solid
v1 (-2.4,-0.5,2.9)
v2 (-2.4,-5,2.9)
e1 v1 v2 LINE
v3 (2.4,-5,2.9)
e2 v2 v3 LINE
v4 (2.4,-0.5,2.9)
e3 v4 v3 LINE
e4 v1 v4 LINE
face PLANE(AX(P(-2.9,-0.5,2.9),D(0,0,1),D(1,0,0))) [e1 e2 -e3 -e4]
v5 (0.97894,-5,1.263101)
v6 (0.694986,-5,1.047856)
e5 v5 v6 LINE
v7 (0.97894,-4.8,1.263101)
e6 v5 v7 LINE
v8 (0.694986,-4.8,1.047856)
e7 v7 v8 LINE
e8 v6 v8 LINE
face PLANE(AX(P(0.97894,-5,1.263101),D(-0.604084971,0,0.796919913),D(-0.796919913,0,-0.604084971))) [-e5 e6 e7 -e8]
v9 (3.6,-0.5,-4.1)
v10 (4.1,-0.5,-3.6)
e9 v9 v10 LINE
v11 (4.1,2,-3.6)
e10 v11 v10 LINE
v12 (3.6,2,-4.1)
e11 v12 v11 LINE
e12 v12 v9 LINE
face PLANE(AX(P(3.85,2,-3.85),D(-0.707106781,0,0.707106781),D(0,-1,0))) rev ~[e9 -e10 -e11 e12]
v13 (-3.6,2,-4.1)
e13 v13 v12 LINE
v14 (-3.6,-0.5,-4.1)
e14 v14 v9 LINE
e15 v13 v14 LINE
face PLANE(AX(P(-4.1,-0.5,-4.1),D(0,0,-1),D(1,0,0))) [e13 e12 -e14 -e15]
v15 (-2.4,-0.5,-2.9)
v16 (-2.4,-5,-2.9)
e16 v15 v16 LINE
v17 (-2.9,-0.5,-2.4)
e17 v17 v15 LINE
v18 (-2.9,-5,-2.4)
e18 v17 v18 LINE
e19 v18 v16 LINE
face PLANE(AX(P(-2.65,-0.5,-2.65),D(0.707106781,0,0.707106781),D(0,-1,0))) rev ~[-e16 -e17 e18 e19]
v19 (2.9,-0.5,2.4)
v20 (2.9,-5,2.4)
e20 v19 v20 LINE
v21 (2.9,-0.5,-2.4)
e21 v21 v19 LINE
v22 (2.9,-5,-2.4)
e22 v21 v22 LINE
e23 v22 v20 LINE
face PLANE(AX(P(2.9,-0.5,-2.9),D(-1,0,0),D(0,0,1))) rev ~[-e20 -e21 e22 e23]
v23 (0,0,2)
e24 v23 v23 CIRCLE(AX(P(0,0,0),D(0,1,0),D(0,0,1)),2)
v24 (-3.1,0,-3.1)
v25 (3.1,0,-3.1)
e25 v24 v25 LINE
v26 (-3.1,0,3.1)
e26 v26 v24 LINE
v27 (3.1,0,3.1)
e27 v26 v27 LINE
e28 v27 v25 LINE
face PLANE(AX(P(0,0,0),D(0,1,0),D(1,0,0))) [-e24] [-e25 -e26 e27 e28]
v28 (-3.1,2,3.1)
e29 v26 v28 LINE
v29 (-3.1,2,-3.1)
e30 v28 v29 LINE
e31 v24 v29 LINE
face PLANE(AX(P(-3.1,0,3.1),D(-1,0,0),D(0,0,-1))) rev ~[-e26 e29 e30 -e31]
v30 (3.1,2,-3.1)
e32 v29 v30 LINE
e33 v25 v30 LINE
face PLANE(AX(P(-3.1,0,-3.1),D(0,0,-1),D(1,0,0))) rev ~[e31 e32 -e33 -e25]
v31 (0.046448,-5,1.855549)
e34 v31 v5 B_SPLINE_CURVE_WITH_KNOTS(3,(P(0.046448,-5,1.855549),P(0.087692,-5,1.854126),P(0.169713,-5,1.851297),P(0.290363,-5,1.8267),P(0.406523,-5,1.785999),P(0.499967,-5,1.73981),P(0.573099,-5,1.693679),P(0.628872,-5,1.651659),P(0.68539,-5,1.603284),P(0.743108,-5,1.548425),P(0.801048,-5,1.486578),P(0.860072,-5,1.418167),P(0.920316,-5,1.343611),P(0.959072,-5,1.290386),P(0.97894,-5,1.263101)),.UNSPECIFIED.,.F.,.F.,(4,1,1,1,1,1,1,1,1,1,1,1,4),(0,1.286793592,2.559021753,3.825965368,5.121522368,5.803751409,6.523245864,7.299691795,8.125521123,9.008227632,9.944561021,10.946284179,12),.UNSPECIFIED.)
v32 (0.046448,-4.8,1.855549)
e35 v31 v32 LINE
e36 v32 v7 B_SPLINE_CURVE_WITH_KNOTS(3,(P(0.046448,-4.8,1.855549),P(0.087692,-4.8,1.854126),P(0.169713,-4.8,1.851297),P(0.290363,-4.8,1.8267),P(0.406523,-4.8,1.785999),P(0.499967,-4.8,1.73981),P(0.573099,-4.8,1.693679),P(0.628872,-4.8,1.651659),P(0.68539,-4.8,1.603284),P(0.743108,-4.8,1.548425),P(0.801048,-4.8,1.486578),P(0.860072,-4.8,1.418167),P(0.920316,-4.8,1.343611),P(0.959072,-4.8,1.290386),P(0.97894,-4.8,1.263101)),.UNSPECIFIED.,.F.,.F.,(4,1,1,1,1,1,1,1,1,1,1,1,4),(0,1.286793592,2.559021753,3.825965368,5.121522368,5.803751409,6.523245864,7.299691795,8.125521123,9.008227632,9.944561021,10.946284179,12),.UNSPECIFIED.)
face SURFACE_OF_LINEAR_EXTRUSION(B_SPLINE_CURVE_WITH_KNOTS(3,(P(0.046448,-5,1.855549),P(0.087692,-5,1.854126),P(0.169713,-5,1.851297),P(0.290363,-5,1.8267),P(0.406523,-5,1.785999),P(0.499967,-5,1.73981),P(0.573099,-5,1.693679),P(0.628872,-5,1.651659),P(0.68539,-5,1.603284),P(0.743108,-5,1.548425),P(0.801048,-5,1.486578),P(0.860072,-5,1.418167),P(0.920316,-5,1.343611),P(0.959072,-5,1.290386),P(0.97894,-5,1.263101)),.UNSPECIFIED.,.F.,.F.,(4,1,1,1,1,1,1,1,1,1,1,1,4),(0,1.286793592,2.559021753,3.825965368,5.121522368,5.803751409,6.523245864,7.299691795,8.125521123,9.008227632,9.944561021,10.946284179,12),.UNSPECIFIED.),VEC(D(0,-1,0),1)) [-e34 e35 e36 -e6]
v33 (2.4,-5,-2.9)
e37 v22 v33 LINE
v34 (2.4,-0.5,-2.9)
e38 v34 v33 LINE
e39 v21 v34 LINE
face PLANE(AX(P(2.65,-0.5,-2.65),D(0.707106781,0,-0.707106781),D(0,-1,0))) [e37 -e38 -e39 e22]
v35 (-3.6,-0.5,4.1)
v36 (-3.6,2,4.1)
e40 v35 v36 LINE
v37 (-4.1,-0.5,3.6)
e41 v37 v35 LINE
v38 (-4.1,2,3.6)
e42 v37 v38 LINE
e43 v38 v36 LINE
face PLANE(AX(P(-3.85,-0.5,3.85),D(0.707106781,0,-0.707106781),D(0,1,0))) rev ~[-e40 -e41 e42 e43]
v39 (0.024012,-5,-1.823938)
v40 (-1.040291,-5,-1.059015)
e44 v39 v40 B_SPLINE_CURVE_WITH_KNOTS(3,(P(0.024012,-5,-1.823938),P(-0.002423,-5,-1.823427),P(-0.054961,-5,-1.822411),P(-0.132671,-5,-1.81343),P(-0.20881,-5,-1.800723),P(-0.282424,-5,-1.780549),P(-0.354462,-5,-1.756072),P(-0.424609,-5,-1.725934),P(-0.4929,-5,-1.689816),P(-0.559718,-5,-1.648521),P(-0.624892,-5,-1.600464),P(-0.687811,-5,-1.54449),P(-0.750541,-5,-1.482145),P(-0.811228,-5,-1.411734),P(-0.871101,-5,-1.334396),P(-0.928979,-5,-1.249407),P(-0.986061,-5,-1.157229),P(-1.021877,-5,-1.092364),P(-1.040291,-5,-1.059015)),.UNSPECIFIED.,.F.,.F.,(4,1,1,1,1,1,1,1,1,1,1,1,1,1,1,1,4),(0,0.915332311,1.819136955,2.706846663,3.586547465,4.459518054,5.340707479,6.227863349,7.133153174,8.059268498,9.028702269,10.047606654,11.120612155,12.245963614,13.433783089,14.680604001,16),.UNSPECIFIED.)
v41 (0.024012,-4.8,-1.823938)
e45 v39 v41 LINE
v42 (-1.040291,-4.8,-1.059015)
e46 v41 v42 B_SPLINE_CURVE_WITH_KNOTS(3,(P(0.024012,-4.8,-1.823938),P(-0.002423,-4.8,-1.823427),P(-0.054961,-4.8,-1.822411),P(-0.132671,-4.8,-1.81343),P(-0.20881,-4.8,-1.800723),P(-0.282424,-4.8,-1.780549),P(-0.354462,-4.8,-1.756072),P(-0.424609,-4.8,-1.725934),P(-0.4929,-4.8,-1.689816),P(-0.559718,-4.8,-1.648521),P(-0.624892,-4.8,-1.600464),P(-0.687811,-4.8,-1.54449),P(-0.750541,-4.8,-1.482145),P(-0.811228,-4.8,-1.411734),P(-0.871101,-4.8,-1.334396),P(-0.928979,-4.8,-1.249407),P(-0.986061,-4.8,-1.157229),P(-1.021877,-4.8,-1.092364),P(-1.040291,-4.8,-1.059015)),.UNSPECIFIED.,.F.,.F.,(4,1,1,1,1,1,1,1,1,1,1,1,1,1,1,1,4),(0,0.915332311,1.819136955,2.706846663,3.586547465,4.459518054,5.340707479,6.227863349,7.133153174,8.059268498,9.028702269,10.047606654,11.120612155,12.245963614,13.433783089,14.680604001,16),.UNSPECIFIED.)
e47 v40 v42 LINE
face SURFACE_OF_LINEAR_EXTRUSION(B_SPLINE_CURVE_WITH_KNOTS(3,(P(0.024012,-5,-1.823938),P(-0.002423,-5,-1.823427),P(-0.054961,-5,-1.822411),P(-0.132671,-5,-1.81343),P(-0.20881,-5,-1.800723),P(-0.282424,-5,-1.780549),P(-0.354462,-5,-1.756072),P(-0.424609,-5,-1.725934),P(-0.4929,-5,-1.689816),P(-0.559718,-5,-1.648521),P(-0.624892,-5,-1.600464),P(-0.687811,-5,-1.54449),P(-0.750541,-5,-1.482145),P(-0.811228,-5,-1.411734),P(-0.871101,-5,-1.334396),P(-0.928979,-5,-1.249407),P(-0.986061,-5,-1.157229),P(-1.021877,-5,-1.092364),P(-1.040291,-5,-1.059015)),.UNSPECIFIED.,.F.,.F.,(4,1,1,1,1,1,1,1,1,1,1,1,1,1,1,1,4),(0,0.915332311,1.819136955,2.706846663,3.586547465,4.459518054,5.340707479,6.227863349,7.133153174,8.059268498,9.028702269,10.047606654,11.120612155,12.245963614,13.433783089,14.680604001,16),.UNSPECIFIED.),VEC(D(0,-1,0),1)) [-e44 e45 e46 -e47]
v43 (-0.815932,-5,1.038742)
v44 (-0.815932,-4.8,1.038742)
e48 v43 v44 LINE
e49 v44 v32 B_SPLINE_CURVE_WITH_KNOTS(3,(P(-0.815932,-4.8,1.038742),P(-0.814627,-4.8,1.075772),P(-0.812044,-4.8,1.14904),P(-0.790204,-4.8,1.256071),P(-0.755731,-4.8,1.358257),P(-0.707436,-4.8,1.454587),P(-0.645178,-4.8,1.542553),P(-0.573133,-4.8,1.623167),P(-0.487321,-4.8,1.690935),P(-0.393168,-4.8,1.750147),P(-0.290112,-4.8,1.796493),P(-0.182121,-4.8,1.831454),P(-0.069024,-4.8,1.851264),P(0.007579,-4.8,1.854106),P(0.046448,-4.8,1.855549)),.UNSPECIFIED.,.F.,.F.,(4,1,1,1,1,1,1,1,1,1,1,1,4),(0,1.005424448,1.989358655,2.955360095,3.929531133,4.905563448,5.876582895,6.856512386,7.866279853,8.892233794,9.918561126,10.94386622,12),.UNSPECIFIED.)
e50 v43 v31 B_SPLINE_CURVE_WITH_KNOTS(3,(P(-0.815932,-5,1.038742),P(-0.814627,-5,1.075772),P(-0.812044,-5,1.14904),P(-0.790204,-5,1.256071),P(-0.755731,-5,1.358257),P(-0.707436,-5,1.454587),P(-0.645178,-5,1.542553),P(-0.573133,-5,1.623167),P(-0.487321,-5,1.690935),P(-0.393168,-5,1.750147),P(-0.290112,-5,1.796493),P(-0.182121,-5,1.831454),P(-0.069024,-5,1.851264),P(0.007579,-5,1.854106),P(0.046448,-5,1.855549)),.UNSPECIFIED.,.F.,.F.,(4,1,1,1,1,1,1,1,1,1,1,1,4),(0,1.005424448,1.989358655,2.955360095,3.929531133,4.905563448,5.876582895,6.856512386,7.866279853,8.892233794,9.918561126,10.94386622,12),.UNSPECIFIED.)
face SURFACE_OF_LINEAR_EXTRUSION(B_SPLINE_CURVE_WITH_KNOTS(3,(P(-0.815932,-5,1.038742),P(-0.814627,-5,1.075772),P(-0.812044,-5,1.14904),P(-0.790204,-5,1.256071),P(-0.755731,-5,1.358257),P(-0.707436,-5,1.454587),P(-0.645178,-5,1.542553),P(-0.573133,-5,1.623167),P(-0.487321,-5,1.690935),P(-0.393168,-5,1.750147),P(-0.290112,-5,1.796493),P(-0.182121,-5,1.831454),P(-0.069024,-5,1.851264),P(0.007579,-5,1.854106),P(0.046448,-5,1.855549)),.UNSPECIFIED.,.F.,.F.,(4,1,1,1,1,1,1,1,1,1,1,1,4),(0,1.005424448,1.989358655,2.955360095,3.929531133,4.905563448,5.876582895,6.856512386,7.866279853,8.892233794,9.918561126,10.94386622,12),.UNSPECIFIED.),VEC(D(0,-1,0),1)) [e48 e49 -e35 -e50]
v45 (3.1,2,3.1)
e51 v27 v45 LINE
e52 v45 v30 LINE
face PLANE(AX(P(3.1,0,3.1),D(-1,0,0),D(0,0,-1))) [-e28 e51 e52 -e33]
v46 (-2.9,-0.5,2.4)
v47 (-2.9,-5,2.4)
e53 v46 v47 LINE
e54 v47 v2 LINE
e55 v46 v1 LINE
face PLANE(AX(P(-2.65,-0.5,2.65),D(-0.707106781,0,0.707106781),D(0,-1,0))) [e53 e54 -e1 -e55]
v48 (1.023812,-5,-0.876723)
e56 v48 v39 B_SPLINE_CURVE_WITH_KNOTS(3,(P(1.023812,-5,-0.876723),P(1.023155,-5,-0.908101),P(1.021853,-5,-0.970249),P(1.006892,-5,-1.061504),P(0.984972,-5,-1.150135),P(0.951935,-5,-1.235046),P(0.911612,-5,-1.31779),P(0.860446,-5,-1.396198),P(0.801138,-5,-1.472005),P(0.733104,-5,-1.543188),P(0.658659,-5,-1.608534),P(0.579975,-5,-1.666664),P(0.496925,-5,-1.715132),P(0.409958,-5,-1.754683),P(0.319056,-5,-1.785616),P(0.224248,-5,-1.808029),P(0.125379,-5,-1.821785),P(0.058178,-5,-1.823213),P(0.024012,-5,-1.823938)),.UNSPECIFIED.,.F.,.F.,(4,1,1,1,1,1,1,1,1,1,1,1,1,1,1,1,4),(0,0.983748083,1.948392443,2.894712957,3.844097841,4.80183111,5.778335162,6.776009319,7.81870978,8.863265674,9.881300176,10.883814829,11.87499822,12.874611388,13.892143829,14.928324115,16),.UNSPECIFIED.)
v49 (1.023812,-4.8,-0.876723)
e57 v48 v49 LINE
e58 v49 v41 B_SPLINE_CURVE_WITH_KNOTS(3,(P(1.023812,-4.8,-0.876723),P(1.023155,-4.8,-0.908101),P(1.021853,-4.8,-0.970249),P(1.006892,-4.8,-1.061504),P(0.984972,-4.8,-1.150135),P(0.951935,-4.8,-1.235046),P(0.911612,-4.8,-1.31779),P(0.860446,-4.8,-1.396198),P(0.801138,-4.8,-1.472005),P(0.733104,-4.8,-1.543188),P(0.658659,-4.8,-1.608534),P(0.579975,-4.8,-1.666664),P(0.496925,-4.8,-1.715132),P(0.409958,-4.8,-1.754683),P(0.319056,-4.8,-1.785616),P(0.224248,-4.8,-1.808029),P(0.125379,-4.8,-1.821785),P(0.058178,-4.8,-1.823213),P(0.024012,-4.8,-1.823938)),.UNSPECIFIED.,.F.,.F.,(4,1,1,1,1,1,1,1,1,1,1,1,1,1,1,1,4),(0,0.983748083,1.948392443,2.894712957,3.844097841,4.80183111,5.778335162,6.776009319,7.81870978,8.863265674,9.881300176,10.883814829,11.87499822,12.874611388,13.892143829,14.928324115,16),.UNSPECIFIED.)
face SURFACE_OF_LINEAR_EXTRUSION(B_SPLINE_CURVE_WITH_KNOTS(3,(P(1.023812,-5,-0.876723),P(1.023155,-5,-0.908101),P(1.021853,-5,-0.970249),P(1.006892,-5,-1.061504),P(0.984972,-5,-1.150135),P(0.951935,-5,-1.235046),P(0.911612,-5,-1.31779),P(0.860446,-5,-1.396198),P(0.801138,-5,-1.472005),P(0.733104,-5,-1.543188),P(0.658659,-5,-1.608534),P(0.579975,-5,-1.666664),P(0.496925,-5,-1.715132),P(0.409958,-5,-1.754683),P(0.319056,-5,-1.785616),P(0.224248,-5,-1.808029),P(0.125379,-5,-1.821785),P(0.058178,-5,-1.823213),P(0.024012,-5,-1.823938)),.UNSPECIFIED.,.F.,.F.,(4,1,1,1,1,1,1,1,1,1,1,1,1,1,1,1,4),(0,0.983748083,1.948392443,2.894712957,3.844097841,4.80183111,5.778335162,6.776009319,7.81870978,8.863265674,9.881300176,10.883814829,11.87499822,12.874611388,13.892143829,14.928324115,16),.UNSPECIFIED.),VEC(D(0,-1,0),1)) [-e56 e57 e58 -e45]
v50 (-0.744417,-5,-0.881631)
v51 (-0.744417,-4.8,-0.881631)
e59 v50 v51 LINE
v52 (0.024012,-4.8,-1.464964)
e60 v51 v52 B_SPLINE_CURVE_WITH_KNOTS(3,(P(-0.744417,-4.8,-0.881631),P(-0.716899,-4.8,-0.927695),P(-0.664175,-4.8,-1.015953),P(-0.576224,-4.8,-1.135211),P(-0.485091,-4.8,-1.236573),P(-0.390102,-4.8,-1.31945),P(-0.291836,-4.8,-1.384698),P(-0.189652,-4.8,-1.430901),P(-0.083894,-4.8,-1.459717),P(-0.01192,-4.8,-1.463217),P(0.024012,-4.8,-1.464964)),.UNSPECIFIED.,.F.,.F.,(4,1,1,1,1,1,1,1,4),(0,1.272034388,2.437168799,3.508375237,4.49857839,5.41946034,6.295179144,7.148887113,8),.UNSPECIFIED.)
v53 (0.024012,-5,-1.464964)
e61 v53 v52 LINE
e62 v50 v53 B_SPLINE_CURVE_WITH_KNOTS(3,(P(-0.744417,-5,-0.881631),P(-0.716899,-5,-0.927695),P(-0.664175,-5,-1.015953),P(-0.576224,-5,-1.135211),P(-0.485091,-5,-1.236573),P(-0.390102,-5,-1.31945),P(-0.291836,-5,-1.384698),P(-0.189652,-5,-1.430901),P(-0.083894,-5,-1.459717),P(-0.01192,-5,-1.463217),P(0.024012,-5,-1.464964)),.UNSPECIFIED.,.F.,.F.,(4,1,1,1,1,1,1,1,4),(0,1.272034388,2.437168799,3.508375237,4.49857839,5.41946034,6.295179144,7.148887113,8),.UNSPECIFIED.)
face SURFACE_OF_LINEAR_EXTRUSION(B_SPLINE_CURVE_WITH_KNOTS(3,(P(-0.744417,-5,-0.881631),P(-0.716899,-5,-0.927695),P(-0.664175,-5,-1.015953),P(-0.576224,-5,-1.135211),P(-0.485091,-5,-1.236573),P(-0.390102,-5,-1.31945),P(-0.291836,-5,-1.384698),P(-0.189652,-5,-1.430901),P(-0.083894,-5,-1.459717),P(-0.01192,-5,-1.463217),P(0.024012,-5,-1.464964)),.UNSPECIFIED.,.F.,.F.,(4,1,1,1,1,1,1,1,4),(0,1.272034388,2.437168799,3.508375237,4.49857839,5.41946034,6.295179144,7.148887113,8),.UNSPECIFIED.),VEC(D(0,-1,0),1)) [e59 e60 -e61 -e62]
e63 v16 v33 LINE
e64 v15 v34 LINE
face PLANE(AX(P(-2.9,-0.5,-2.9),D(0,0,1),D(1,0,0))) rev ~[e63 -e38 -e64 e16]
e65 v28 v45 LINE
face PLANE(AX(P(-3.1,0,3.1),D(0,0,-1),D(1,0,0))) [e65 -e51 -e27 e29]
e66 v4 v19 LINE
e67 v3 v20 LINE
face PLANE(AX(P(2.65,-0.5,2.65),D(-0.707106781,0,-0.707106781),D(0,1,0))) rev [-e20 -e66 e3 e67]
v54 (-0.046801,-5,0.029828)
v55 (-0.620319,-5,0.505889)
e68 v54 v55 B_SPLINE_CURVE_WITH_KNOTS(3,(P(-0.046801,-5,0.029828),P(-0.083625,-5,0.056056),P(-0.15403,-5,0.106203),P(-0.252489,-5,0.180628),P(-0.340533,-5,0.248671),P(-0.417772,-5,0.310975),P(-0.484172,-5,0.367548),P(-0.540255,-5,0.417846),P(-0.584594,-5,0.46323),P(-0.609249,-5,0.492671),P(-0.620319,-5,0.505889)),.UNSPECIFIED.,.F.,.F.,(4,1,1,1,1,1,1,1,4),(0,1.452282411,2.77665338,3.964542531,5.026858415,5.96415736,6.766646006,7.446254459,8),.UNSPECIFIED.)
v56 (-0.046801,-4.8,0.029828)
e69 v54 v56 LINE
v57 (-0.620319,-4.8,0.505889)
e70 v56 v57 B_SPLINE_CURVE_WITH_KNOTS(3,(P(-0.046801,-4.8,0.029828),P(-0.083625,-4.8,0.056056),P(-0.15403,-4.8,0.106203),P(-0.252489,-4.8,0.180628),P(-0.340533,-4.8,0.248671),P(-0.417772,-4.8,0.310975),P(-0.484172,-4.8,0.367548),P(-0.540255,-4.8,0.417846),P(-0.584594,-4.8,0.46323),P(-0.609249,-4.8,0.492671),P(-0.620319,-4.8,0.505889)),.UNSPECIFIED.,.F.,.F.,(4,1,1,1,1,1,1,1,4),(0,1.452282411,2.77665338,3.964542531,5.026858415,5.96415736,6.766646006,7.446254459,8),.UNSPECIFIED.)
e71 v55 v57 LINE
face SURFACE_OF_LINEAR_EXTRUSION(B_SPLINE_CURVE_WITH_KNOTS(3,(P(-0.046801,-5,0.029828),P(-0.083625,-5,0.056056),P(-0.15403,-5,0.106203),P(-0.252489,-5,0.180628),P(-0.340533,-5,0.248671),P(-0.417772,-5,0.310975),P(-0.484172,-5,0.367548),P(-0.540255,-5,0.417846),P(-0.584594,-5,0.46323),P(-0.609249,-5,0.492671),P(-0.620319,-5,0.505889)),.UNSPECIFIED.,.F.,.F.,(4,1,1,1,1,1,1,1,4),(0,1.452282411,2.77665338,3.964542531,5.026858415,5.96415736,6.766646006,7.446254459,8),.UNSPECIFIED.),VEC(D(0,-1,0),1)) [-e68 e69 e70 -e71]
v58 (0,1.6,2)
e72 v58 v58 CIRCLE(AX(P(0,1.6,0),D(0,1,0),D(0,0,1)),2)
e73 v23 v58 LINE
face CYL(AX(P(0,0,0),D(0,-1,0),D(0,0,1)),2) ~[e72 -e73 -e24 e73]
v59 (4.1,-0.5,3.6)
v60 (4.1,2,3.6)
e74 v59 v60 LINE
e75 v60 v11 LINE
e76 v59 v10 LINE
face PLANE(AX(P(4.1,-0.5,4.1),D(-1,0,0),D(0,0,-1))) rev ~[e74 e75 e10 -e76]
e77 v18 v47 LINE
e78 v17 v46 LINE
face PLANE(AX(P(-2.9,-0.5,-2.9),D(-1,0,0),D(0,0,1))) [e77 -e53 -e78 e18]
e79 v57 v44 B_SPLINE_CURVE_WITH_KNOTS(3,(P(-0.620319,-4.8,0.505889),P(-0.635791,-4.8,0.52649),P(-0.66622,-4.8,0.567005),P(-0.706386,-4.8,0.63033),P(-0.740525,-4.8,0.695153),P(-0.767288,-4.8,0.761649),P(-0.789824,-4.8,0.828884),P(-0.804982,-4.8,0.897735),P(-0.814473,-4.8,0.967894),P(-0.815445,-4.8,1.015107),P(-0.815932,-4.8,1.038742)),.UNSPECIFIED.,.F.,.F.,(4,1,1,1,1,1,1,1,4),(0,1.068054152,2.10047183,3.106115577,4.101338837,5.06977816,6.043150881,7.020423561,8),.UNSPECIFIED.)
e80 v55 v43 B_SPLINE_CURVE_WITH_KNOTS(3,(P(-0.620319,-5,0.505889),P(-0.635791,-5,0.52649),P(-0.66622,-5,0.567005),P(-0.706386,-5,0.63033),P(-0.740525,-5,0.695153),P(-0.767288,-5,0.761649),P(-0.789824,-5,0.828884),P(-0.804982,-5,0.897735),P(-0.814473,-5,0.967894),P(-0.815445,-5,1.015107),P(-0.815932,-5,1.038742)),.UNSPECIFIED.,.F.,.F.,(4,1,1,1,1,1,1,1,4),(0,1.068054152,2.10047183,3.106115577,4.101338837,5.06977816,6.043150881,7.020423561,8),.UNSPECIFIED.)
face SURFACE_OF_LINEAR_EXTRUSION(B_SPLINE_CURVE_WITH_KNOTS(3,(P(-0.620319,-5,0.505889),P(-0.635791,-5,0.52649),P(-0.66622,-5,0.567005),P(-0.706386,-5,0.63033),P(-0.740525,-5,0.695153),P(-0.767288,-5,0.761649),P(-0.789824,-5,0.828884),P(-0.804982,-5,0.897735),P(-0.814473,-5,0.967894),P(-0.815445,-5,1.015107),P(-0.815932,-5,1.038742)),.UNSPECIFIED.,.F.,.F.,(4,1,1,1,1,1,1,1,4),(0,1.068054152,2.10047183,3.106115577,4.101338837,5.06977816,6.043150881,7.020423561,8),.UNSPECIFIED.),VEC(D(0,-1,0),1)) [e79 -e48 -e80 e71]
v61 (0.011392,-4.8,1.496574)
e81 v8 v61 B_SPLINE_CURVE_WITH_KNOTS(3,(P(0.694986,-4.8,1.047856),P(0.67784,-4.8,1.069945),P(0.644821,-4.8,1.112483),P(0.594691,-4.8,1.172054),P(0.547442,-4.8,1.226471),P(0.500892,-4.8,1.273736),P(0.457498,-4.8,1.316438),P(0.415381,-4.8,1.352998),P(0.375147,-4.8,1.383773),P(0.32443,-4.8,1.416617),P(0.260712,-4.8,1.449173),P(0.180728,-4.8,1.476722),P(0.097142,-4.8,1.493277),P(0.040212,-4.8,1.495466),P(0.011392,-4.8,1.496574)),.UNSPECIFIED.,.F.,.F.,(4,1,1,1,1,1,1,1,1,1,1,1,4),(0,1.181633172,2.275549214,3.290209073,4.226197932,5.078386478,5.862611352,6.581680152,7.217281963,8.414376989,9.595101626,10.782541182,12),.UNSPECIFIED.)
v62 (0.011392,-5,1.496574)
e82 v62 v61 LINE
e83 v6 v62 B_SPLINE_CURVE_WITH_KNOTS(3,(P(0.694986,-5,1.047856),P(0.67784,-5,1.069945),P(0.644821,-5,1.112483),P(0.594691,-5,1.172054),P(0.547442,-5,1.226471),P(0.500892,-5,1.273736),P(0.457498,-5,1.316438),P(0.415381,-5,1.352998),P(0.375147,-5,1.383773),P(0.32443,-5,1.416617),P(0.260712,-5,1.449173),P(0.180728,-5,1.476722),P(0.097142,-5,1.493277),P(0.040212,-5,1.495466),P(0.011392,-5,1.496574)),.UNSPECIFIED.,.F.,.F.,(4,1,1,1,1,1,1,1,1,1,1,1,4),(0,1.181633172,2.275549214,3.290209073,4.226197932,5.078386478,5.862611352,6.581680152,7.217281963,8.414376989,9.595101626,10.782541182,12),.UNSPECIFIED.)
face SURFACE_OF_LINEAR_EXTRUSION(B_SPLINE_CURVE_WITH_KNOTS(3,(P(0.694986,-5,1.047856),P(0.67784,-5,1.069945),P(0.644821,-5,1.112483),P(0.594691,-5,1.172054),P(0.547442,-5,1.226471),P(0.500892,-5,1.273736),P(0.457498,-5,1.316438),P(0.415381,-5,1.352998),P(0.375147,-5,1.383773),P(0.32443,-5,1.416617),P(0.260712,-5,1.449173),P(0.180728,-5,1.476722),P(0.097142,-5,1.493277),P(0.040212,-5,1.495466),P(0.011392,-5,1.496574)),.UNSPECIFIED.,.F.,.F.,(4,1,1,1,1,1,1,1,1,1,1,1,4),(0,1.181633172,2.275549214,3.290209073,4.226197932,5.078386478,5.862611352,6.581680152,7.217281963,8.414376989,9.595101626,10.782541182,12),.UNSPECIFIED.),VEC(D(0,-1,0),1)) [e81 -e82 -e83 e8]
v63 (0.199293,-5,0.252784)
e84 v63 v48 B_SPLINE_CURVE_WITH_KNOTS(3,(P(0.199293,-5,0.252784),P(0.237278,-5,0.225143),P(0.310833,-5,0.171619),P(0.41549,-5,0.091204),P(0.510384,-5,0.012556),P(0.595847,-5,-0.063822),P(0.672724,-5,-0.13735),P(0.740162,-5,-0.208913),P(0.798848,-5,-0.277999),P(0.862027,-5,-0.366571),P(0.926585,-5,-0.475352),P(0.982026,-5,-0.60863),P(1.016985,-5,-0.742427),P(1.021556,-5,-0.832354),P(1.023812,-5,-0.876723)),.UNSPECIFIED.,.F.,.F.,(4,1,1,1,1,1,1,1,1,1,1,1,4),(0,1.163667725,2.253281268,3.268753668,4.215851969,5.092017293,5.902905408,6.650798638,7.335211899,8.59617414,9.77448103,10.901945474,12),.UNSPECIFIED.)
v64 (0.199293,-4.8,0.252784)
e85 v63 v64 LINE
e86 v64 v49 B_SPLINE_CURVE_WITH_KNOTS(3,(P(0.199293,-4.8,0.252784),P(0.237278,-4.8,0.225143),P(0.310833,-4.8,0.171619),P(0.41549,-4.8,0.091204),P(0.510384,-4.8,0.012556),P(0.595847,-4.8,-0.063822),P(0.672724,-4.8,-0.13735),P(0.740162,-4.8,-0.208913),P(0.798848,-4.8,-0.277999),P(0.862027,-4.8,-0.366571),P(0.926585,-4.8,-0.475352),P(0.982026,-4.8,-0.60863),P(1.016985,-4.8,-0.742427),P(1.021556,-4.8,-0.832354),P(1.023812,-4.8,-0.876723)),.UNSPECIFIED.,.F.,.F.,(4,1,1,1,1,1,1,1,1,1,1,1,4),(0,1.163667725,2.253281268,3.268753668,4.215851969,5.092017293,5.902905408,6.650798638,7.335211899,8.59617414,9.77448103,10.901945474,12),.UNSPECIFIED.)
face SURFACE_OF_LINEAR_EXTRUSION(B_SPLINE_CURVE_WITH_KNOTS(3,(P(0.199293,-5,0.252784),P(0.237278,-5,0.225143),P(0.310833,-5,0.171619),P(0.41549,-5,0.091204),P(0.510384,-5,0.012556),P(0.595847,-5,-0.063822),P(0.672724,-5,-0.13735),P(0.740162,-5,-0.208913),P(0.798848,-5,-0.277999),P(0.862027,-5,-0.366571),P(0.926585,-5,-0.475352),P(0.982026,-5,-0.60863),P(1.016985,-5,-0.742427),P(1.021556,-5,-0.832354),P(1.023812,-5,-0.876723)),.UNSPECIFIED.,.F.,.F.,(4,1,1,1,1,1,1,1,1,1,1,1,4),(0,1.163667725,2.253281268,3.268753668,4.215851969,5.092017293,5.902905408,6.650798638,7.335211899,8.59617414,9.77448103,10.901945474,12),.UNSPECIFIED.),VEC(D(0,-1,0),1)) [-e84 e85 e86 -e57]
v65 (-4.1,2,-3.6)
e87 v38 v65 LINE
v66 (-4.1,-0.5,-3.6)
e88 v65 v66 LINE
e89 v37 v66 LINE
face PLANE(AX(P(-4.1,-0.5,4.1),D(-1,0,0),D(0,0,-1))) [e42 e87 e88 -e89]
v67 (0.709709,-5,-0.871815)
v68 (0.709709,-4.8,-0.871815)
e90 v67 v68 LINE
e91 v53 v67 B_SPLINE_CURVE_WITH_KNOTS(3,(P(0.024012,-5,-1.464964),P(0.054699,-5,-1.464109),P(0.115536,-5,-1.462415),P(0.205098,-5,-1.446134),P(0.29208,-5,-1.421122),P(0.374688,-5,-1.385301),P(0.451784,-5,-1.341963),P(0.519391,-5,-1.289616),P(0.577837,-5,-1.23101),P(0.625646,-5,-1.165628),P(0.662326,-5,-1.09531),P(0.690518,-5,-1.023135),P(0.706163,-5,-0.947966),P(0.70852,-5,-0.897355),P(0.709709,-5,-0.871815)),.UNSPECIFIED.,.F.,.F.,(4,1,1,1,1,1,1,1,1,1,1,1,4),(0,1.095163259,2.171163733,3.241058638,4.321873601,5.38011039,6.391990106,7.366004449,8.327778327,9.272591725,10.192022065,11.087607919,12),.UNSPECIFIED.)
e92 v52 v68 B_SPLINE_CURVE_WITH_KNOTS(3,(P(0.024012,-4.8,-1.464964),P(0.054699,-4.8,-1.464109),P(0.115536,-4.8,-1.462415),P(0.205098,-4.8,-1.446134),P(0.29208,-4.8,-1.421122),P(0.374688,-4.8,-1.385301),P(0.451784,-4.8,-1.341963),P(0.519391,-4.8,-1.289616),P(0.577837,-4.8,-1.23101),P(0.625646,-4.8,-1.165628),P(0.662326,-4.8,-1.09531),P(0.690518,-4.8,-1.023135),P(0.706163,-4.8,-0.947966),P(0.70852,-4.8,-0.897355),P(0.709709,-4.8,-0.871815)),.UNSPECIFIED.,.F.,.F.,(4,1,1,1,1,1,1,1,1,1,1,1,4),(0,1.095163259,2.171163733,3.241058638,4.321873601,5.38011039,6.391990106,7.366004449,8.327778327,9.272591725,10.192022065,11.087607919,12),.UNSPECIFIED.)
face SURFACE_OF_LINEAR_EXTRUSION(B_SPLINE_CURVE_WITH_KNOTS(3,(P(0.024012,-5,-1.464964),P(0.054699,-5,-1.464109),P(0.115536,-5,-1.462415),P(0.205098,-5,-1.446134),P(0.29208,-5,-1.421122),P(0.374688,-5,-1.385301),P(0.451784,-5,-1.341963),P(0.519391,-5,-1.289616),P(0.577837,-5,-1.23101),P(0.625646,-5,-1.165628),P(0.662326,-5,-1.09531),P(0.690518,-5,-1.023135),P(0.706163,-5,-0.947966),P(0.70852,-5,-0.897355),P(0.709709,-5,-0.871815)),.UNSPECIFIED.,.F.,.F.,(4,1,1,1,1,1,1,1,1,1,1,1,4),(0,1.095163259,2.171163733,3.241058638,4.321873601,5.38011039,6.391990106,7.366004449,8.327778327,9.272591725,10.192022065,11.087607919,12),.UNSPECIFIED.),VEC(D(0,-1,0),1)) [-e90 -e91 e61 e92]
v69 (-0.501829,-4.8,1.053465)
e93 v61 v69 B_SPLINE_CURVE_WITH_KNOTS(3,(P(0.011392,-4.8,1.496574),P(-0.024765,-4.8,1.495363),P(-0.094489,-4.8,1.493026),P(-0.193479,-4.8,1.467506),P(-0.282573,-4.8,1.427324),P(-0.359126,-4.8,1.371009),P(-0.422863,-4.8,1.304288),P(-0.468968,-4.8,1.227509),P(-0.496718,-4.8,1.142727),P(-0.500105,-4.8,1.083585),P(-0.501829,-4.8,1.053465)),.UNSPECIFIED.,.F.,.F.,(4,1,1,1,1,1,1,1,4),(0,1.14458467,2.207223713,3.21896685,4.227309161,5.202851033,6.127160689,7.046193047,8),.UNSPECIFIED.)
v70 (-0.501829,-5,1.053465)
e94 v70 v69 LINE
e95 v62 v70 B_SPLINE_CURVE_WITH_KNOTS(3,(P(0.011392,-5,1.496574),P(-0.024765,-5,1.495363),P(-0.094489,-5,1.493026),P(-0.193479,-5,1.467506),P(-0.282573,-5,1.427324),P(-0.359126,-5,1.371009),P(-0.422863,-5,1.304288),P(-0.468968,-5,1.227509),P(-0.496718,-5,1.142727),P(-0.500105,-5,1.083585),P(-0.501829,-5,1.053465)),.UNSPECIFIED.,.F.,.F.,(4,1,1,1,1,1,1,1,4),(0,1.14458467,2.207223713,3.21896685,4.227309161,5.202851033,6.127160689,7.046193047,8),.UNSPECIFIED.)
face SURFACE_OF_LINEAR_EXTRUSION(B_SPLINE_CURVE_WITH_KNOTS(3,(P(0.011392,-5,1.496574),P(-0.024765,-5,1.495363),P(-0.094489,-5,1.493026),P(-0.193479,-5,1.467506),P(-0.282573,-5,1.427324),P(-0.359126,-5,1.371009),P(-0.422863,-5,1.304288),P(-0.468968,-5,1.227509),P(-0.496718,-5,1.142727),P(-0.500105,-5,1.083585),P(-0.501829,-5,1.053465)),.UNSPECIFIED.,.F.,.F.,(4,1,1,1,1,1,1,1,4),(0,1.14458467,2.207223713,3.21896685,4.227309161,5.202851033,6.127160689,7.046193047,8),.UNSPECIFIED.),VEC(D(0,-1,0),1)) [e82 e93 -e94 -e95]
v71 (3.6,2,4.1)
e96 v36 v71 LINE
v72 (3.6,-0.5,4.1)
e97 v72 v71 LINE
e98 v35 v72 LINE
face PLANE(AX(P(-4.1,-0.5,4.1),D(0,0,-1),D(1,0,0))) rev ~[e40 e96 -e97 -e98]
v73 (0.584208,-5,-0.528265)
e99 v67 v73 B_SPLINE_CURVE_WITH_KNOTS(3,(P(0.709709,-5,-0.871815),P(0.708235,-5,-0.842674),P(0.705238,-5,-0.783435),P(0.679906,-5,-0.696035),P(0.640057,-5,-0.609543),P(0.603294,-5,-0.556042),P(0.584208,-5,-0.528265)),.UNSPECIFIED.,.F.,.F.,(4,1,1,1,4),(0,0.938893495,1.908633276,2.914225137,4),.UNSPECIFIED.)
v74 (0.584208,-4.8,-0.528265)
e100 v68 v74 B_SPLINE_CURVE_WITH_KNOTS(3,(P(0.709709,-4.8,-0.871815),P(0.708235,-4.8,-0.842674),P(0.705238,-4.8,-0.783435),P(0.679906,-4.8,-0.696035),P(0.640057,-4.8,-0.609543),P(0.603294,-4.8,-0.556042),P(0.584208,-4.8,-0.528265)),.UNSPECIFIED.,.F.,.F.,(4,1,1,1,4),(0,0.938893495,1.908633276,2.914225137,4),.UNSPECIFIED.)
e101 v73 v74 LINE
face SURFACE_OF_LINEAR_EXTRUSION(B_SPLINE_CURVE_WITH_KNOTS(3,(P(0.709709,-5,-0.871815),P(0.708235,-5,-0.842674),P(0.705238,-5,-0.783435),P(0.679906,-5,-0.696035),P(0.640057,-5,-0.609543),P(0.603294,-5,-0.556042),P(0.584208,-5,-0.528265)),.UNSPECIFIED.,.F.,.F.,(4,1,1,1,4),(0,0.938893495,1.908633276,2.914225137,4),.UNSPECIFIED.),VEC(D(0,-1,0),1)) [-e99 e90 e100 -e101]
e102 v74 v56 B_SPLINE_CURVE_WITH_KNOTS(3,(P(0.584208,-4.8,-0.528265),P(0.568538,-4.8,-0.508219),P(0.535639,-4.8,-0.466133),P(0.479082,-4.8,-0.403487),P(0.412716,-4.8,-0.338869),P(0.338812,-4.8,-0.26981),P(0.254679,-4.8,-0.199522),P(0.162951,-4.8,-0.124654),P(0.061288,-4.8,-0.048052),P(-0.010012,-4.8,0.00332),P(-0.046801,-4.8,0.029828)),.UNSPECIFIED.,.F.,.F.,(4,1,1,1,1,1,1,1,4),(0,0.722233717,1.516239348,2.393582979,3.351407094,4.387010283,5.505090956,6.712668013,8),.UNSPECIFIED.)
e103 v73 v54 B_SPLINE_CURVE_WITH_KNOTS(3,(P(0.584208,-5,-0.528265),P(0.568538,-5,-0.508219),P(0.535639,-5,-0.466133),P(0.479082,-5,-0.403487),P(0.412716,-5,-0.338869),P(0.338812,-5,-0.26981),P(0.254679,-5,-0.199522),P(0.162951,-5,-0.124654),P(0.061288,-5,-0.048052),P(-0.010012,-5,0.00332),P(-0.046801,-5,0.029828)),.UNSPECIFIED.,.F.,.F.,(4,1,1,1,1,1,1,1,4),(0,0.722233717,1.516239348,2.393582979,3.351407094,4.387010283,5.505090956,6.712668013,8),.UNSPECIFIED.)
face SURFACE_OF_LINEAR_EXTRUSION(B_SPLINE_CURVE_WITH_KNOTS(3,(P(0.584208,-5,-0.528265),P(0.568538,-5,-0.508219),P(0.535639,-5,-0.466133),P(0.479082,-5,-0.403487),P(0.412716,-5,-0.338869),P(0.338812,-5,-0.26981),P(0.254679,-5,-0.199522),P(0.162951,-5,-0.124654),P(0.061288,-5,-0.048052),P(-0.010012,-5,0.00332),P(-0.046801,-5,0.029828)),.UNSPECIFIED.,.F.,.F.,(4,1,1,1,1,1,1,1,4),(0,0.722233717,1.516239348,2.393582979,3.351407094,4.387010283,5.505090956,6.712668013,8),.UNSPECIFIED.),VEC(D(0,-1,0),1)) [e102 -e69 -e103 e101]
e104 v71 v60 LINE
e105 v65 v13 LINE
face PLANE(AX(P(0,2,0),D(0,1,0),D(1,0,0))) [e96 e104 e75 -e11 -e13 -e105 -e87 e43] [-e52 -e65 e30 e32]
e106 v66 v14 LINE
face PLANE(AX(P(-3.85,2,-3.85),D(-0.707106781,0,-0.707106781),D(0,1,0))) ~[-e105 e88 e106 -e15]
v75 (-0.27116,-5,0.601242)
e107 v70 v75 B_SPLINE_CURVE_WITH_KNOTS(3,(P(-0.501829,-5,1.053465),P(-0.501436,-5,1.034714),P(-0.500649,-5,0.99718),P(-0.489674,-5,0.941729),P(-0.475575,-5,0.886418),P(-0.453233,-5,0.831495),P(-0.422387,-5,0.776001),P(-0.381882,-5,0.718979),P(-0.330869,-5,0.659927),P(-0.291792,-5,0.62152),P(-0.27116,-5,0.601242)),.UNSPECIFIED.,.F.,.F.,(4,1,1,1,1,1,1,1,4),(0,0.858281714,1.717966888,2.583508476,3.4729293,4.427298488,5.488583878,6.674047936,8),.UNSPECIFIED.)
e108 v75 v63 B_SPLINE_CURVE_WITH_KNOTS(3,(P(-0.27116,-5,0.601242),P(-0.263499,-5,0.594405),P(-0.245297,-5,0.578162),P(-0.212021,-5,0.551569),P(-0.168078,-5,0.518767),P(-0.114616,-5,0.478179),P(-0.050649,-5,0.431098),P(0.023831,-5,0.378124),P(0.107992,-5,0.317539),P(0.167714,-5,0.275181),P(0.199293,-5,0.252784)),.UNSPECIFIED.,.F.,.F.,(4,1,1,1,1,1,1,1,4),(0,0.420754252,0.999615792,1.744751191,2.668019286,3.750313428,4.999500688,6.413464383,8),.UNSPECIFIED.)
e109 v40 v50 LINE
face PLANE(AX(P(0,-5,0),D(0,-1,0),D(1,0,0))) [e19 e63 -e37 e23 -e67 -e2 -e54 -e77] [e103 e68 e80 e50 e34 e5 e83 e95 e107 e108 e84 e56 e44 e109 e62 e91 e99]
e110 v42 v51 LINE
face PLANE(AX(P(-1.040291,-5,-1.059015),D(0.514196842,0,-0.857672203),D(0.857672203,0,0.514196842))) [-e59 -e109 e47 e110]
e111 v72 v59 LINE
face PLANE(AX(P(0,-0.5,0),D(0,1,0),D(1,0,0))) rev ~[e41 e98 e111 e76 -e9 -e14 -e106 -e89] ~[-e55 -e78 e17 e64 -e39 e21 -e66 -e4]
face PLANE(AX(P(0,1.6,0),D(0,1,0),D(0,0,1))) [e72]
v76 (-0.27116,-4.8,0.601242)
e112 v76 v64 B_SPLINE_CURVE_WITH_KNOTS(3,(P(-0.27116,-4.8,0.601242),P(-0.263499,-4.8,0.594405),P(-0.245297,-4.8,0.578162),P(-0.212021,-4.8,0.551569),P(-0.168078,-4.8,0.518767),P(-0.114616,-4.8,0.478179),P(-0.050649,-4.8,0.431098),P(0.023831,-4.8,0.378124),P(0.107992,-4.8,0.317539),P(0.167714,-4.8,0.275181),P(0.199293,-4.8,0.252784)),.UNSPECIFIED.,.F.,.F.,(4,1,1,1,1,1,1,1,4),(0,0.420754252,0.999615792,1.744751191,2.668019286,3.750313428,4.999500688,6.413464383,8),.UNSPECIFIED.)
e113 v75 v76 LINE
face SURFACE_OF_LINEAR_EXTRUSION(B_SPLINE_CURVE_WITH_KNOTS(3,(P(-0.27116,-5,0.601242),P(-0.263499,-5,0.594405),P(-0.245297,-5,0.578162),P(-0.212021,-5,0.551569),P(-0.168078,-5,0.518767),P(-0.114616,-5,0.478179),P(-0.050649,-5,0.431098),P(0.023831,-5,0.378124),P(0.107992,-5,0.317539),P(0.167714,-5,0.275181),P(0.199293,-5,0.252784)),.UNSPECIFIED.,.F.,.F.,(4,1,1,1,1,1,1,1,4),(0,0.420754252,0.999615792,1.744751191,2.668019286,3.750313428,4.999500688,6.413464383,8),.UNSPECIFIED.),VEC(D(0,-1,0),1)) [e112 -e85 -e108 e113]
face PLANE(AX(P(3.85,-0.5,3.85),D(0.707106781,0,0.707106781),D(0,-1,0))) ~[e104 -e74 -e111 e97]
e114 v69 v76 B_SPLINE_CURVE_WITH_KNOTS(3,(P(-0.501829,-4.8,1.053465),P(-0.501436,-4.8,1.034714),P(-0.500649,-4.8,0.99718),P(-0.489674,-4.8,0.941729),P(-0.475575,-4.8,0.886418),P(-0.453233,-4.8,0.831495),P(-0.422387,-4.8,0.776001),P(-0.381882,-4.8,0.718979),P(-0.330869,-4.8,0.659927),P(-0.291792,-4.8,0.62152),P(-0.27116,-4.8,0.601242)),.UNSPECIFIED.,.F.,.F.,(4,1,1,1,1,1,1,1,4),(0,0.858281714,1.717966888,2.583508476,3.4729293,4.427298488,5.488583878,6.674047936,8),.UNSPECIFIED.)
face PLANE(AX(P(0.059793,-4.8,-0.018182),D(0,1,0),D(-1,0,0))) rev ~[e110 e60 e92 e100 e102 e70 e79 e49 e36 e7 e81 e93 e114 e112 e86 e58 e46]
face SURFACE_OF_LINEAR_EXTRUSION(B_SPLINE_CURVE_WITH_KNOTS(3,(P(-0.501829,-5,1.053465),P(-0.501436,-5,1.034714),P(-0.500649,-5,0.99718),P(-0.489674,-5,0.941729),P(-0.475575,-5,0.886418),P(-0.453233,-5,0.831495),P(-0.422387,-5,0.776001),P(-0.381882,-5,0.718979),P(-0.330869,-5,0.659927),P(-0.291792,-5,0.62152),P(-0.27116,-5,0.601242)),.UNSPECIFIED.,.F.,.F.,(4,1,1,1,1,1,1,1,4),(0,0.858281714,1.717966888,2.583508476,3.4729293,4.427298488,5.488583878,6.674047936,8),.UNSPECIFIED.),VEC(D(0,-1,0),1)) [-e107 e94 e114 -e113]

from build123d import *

# Parameters (mm, degrees)
SKETCH1_R           = 2
BOSS_EXTRUDE1_DEPTH = 1.6
SKETCH1_3_W         = 8.2
SKETCH1_3_H         = 8.2
SKETCH1_3_W_2       = 6.2
SKETCH1_3_H_2       = 6.2
BOSS_EXTRUDE2_DEPTH = 2
SKETCH1_4_W         = 8.2
SKETCH1_4_H         = 8.2
BOSS_EXTRUDE3_DEPTH = 0.5
SKETCH3_W           = 5.8
SKETCH3_H           = 5.8
BOSS_EXTRUDE4_DEPTH = 4.5
CHAMFER1_SIZE       = 0.5
CUT_EXTRUDE1_DEPTH  = 0.2


with BuildPart() as part:
    # Sketch1 → Boss-Extrude1 (new body)
    with BuildSketch(Plane(origin=(0, 0, 0), x_dir=(1, 0, 0), z_dir=(0, 1, 0))):
        Circle(SKETCH1_R)
    extrude(amount=BOSS_EXTRUDE1_DEPTH)



with BuildPart() as body_2:
    # Sketch1<3> → Boss-Extrude2 (new body)
    with BuildSketch(Plane(origin=(0, 0, 0), x_dir=(1, 0, 0), z_dir=(0, 1, 0))):
        Rectangle(SKETCH1_3_W, SKETCH1_3_H)
        Rectangle(SKETCH1_3_W_2, SKETCH1_3_H_2, mode=Mode.SUBTRACT)
    extrude(amount=BOSS_EXTRUDE2_DEPTH)


with BuildPart() as part_1:
    add(part.part)

    add(body_2.part)  # Boss-Extrude3 merges body 2
    # Sketch1<4> → Boss-Extrude3 (add)
    with BuildSketch(Plane(origin=(0, 0, 0), x_dir=(1, 0, 0), z_dir=(0, 1, 0))):
        Rectangle(SKETCH1_4_W, SKETCH1_4_H)
    extrude(amount=-BOSS_EXTRUDE3_DEPTH)

    # Sketch3 → Boss-Extrude4 (add)
    with BuildSketch(Plane.XZ.offset(0.5)):
        Rectangle(SKETCH3_W, SKETCH3_H)
    extrude(amount=BOSS_EXTRUDE4_DEPTH)

    # Chamfer1
    chamfer1_edges = [part_1.edges().sort_by_distance(p)[0] for p in [
        (-4.1, 0.75, -4.1),
        (4.1, 0.75, -4.1),
        (-4.1, 0.75, 4.1),
        (4.1, 0.75, 4.1),
        (-2.9, -2.75, 2.9),
        (2.9, -2.75, 2.9),
        (-2.9, -2.75, -2.9),
        (2.9, -2.75, -2.9),
    ]]
    chamfer(chamfer1_edges, length=CHAMFER1_SIZE)

    # Sketch4 → Cut-Extrude1 (cut)
    with BuildSketch(Plane.XZ.offset(5)):
        with BuildLine():
            Line((-1.040290833, -1.059014553), (-0.744417436, -0.881630739))
            add(Edge.make_bspline(
                [(-0.744417436, -0.881630739), (-0.716899199, -0.927695124), (-0.664175318, -1.015952708), (-0.576223959, -1.135210748), (-0.485091048, -1.236572905), (-0.390101714, -1.319449512), (-0.291835766, -1.384698399), (-0.189651712, -1.430900631), (-0.083893902, -1.459716606), (-0.01192008, -1.463216693), (0.024012051, -1.464964072)],
                knots=[0, 0, 0, 0, 1.272034388, 2.437168799, 3.508375237, 4.49857839, 5.41946034, 6.295179144, 7.148887113, 8, 8, 8, 8], degree=3))
            add(Edge.make_bspline(
                [(0.024012051, -1.464964072), (0.054698912, -1.464109399), (0.115535685, -1.462415009), (0.205097928, -1.446134207), (0.29207973, -1.421122078), (0.374688368, -1.385301147), (0.451783982, -1.341962661), (0.519390678, -1.289616484), (0.577836791, -1.231010278), (0.625645905, -1.165627623), (0.662325941, -1.095310475), (0.690518009, -1.023134523), (0.706163083, -0.947965955), (0.708519836, -0.897355492), (0.709709167, -0.871815034)],
                knots=[0, 0, 0, 0, 1.095163259, 2.171163733, 3.241058638, 4.321873601, 5.38011039, 6.391990106, 7.366004449, 8.327778327, 9.272591725, 10.192022065, 11.087607919, 12, 12, 12, 12], degree=3))
            add(Edge.make_bspline(
                [(0.709709167, -0.871815034), (0.708234856, -0.842674184), (0.705237798, -0.783435095), (0.679906318, -0.696035442), (0.640057071, -0.609542872), (0.603294427, -0.556041606), (0.584208365, -0.528265354)],
                knots=[0, 0, 0, 0, 0.938893495, 1.908633276, 2.914225137, 4, 4, 4, 4], degree=3))
            add(Edge.make_bspline(
                [(0.584208365, -0.528265354), (0.568537751, -0.50821853), (0.535639257, -0.466132732), (0.479081744, -0.403487496), (0.41271563, -0.338869077), (0.338812075, -0.269810021), (0.254678986, -0.199522224), (0.162951472, -0.124653946), (0.061287613, -0.048052369), (-0.010011884, 0.003320197), (-0.04680125, 0.029827595)],
                knots=[0, 0, 0, 0, 0.722233717, 1.516239348, 2.393582979, 3.351407094, 4.387010283, 5.505090956, 6.712668013, 8, 8, 8, 8], degree=3))
            add(Edge.make_bspline(
                [(-0.04680125, 0.029827595), (-0.083625246, 0.056056182), (-0.154029923, 0.106203245), (-0.252488505, 0.180627529), (-0.340532968, 0.248671398), (-0.417771985, 0.31097541), (-0.484171581, 0.367548015), (-0.540254992, 0.417845954), (-0.58459355, 0.463229515), (-0.60924913, 0.492670857), (-0.620318878, 0.505889293)],
                knots=[0, 0, 0, 0, 1.452282411, 2.77665338, 3.964542531, 5.026858415, 5.96415736, 6.766646006, 7.446254459, 8, 8, 8, 8], degree=3))
            add(Edge.make_bspline(
                [(-0.620318878, 0.505889293), (-0.635791423, 0.52649033), (-0.66622026, 0.567005034), (-0.706386266, 0.630329892), (-0.740525428, 0.695153157), (-0.76728776, 0.761649022), (-0.789823979, 0.828883951), (-0.80498191, 0.897735196), (-0.814473307, 0.967893815), (-0.815445293, 1.015107315), (-0.815931859, 1.038741857)],
                knots=[0, 0, 0, 0, 1.068054152, 2.10047183, 3.106115577, 4.101338837, 5.06977816, 6.043150881, 7.020423561, 8, 8, 8, 8], degree=3))
            add(Edge.make_bspline(
                [(-0.815931859, 1.038741857), (-0.81462665, 1.075771632), (-0.81204413, 1.149039696), (-0.790203613, 1.256070526), (-0.755730719, 1.358256943), (-0.707435831, 1.454587277), (-0.645178478, 1.542553258), (-0.573132504, 1.623166745), (-0.487321018, 1.690935327), (-0.393168394, 1.750147386), (-0.290112022, 1.796493311), (-0.182121119, 1.831454291), (-0.069024047, 1.851263549), (0.007579088, 1.854106314), (0.046447949, 1.855548749)],
                knots=[0, 0, 0, 0, 1.005424448, 1.989358655, 2.955360095, 3.929531133, 4.905563448, 5.876582895, 6.856512386, 7.866279853, 8.892233794, 9.918561126, 10.94386622, 12, 12, 12, 12], degree=3))
            add(Edge.make_bspline(
                [(0.046447949, 1.855548749), (0.087692049, 1.854126197), (0.169713401, 1.851297196), (0.290362616, 1.826699664), (0.406523333, 1.785998993), (0.499966598, 1.739810335), (0.573099359, 1.693678919), (0.628872092, 1.651659095), (0.685389543, 1.603283986), (0.743107597, 1.54842474), (0.801048257, 1.486577989), (0.860071709, 1.4181673), (0.920315978, 1.343610744), (0.959071838, 1.290386243), (0.978939936, 1.263100832)],
                knots=[0, 0, 0, 0, 1.286793592, 2.559021753, 3.825965368, 5.121522368, 5.803751409, 6.523245864, 7.299691795, 8.125521123, 9.008227632, 9.944561021, 10.946284179, 12, 12, 12, 12], degree=3))
            Line((0.978939936, 1.263100832), (0.694985609, 1.047856441))
            add(Edge.make_bspline(
                [(0.694985609, 1.047856441), (0.677839677, 1.069945131), (0.644820619, 1.112482784), (0.594691133, 1.1720541), (0.547442485, 1.22647058), (0.500892085, 1.273735708), (0.457498453, 1.316437841), (0.415381411, 1.352997598), (0.37514706, 1.383773193), (0.324430149, 1.416616753), (0.260712431, 1.449173257), (0.180727895, 1.476722335), (0.09714162, 1.493277397), (0.040211988, 1.495466284), (0.011391859, 1.49657439)],
                knots=[0, 0, 0, 0, 1.181633172, 2.275549214, 3.290209073, 4.226197932, 5.078386478, 5.862611352, 6.581680152, 7.217281963, 8.414376989, 9.595101626, 10.782541182, 12, 12, 12, 12], degree=3))
            add(Edge.make_bspline(
                [(0.011391859, 1.49657439), (-0.024764663, 1.49536269), (-0.094489111, 1.49302604), (-0.193479347, 1.467506055), (-0.282573272, 1.427324195), (-0.359125837, 1.371009217), (-0.422862814, 1.304288224), (-0.468968273, 1.227509369), (-0.496718437, 1.142726966), (-0.500104717, 1.08358531), (-0.501829295, 1.053465415)],
                knots=[0, 0, 0, 0, 1.14458467, 2.207223713, 3.21896685, 4.227309161, 5.202851033, 6.127160689, 7.046193047, 8, 8, 8, 8], degree=3))
            add(Edge.make_bspline(
                [(-0.501829295, 1.053465415), (-0.501436168, 1.034713937), (-0.500649272, 0.997180317), (-0.489674474, 0.941728895), (-0.475575145, 0.886417556), (-0.453232514, 0.831494973), (-0.42238721, 0.776000614), (-0.381882034, 0.718978876), (-0.330868722, 0.659927168), (-0.29179171, 0.621519794), (-0.271160224, 0.601241857)],
                knots=[0, 0, 0, 0, 0.858281714, 1.717966888, 2.583508476, 3.4729293, 4.427298488, 5.488583878, 6.674047936, 8, 8, 8, 8], degree=3))
            add(Edge.make_bspline(
                [(-0.271160224, 0.601241857), (-0.263498852, 0.594404832), (-0.245297185, 0.578161623), (-0.212021259, 0.551569343), (-0.168078461, 0.51876657), (-0.11461626, 0.478179254), (-0.050648898, 0.431097792), (0.023830658, 0.37812418), (0.107992191, 0.317538721), (0.167714107, 0.27518118), (0.1992925, 0.252784325)],
                knots=[0, 0, 0, 0, 0.420754252, 0.999615792, 1.744751191, 2.668019286, 3.750313428, 4.999500688, 6.413464383, 8, 8, 8, 8], degree=3))
            add(Edge.make_bspline(
                [(0.1992925, 0.252784325), (0.237278413, 0.225142966), (0.31083287, 0.171619304), (0.41549045, 0.091203624), (0.510384258, 0.012555856), (0.595847461, -0.063821752), (0.67272437, -0.137349845), (0.74016209, -0.208913025), (0.798847771, -0.277998598), (0.862026989, -0.366571173), (0.926584809, -0.475352258), (0.982026316, -0.608630496), (1.016984664, -0.742426817), (1.021556179, -0.832353653), (1.023811731, -0.876722886)],
                knots=[0, 0, 0, 0, 1.163667725, 2.253281268, 3.268753668, 4.215851969, 5.092017293, 5.902905408, 6.650798638, 7.335211899, 8.59617414, 9.77448103, 10.901945474, 12, 12, 12, 12], degree=3))
            add(Edge.make_bspline(
                [(1.023811731, -0.876722886), (1.023154593, -0.908101251), (1.021853078, -0.970248635), (1.006892164, -1.061503712), (0.984972499, -1.150134581), (0.951935265, -1.235045694), (0.911612106, -1.317790456), (0.860445859, -1.396198357), (0.801138174, -1.472004755), (0.733104409, -1.543188247), (0.658658507, -1.608534443), (0.579974812, -1.666663504), (0.496924539, -1.715131828), (0.409958222, -1.75468267), (0.319055886, -1.785616187), (0.224248102, -1.808029056), (0.125378591, -1.821784767), (0.058178109, -1.823212529), (0.024012051, -1.823938431)],
                knots=[0, 0, 0, 0, 0.983748083, 1.948392443, 2.894712957, 3.844097841, 4.80183111, 5.778335162, 6.776009319, 7.81870978, 8.863265674, 9.881300176, 10.883814829, 11.87499822, 12.874611388, 13.892143829, 14.928324115, 16, 16, 16, 16], degree=3))
            add(Edge.make_bspline(
                [(0.024012051, -1.823938431), (-0.002423292, -1.823427249), (-0.054961052, -1.822411324), (-0.132670534, -1.813430044), (-0.208810123, -1.80072294), (-0.282424405, -1.78054887), (-0.354461816, -1.756071893), (-0.424609051, -1.72593356), (-0.492900105, -1.689816359), (-0.559717688, -1.648521334), (-0.624891862, -1.60046359), (-0.68781133, -1.544490093), (-0.750540516, -1.482144588), (-0.811227912, -1.411734025), (-0.871101056, -1.334395942), (-0.928979466, -1.249406759), (-0.986061184, -1.157229405), (-1.021876651, -1.092364319), (-1.040290833, -1.059014553)],
                knots=[0, 0, 0, 0, 0.915332311, 1.819136955, 2.706846663, 3.586547465, 4.459518054, 5.340707479, 6.227863349, 7.133153174, 8.059268498, 9.028702269, 10.047606654, 11.120612155, 12.245963614, 13.433783089, 14.680604001, 16, 16, 16, 16], degree=3))
        make_face()
    extrude(amount=-CUT_EXTRUDE1_DEPTH, mode=Mode.SUBTRACT)


solid = part_1.part
